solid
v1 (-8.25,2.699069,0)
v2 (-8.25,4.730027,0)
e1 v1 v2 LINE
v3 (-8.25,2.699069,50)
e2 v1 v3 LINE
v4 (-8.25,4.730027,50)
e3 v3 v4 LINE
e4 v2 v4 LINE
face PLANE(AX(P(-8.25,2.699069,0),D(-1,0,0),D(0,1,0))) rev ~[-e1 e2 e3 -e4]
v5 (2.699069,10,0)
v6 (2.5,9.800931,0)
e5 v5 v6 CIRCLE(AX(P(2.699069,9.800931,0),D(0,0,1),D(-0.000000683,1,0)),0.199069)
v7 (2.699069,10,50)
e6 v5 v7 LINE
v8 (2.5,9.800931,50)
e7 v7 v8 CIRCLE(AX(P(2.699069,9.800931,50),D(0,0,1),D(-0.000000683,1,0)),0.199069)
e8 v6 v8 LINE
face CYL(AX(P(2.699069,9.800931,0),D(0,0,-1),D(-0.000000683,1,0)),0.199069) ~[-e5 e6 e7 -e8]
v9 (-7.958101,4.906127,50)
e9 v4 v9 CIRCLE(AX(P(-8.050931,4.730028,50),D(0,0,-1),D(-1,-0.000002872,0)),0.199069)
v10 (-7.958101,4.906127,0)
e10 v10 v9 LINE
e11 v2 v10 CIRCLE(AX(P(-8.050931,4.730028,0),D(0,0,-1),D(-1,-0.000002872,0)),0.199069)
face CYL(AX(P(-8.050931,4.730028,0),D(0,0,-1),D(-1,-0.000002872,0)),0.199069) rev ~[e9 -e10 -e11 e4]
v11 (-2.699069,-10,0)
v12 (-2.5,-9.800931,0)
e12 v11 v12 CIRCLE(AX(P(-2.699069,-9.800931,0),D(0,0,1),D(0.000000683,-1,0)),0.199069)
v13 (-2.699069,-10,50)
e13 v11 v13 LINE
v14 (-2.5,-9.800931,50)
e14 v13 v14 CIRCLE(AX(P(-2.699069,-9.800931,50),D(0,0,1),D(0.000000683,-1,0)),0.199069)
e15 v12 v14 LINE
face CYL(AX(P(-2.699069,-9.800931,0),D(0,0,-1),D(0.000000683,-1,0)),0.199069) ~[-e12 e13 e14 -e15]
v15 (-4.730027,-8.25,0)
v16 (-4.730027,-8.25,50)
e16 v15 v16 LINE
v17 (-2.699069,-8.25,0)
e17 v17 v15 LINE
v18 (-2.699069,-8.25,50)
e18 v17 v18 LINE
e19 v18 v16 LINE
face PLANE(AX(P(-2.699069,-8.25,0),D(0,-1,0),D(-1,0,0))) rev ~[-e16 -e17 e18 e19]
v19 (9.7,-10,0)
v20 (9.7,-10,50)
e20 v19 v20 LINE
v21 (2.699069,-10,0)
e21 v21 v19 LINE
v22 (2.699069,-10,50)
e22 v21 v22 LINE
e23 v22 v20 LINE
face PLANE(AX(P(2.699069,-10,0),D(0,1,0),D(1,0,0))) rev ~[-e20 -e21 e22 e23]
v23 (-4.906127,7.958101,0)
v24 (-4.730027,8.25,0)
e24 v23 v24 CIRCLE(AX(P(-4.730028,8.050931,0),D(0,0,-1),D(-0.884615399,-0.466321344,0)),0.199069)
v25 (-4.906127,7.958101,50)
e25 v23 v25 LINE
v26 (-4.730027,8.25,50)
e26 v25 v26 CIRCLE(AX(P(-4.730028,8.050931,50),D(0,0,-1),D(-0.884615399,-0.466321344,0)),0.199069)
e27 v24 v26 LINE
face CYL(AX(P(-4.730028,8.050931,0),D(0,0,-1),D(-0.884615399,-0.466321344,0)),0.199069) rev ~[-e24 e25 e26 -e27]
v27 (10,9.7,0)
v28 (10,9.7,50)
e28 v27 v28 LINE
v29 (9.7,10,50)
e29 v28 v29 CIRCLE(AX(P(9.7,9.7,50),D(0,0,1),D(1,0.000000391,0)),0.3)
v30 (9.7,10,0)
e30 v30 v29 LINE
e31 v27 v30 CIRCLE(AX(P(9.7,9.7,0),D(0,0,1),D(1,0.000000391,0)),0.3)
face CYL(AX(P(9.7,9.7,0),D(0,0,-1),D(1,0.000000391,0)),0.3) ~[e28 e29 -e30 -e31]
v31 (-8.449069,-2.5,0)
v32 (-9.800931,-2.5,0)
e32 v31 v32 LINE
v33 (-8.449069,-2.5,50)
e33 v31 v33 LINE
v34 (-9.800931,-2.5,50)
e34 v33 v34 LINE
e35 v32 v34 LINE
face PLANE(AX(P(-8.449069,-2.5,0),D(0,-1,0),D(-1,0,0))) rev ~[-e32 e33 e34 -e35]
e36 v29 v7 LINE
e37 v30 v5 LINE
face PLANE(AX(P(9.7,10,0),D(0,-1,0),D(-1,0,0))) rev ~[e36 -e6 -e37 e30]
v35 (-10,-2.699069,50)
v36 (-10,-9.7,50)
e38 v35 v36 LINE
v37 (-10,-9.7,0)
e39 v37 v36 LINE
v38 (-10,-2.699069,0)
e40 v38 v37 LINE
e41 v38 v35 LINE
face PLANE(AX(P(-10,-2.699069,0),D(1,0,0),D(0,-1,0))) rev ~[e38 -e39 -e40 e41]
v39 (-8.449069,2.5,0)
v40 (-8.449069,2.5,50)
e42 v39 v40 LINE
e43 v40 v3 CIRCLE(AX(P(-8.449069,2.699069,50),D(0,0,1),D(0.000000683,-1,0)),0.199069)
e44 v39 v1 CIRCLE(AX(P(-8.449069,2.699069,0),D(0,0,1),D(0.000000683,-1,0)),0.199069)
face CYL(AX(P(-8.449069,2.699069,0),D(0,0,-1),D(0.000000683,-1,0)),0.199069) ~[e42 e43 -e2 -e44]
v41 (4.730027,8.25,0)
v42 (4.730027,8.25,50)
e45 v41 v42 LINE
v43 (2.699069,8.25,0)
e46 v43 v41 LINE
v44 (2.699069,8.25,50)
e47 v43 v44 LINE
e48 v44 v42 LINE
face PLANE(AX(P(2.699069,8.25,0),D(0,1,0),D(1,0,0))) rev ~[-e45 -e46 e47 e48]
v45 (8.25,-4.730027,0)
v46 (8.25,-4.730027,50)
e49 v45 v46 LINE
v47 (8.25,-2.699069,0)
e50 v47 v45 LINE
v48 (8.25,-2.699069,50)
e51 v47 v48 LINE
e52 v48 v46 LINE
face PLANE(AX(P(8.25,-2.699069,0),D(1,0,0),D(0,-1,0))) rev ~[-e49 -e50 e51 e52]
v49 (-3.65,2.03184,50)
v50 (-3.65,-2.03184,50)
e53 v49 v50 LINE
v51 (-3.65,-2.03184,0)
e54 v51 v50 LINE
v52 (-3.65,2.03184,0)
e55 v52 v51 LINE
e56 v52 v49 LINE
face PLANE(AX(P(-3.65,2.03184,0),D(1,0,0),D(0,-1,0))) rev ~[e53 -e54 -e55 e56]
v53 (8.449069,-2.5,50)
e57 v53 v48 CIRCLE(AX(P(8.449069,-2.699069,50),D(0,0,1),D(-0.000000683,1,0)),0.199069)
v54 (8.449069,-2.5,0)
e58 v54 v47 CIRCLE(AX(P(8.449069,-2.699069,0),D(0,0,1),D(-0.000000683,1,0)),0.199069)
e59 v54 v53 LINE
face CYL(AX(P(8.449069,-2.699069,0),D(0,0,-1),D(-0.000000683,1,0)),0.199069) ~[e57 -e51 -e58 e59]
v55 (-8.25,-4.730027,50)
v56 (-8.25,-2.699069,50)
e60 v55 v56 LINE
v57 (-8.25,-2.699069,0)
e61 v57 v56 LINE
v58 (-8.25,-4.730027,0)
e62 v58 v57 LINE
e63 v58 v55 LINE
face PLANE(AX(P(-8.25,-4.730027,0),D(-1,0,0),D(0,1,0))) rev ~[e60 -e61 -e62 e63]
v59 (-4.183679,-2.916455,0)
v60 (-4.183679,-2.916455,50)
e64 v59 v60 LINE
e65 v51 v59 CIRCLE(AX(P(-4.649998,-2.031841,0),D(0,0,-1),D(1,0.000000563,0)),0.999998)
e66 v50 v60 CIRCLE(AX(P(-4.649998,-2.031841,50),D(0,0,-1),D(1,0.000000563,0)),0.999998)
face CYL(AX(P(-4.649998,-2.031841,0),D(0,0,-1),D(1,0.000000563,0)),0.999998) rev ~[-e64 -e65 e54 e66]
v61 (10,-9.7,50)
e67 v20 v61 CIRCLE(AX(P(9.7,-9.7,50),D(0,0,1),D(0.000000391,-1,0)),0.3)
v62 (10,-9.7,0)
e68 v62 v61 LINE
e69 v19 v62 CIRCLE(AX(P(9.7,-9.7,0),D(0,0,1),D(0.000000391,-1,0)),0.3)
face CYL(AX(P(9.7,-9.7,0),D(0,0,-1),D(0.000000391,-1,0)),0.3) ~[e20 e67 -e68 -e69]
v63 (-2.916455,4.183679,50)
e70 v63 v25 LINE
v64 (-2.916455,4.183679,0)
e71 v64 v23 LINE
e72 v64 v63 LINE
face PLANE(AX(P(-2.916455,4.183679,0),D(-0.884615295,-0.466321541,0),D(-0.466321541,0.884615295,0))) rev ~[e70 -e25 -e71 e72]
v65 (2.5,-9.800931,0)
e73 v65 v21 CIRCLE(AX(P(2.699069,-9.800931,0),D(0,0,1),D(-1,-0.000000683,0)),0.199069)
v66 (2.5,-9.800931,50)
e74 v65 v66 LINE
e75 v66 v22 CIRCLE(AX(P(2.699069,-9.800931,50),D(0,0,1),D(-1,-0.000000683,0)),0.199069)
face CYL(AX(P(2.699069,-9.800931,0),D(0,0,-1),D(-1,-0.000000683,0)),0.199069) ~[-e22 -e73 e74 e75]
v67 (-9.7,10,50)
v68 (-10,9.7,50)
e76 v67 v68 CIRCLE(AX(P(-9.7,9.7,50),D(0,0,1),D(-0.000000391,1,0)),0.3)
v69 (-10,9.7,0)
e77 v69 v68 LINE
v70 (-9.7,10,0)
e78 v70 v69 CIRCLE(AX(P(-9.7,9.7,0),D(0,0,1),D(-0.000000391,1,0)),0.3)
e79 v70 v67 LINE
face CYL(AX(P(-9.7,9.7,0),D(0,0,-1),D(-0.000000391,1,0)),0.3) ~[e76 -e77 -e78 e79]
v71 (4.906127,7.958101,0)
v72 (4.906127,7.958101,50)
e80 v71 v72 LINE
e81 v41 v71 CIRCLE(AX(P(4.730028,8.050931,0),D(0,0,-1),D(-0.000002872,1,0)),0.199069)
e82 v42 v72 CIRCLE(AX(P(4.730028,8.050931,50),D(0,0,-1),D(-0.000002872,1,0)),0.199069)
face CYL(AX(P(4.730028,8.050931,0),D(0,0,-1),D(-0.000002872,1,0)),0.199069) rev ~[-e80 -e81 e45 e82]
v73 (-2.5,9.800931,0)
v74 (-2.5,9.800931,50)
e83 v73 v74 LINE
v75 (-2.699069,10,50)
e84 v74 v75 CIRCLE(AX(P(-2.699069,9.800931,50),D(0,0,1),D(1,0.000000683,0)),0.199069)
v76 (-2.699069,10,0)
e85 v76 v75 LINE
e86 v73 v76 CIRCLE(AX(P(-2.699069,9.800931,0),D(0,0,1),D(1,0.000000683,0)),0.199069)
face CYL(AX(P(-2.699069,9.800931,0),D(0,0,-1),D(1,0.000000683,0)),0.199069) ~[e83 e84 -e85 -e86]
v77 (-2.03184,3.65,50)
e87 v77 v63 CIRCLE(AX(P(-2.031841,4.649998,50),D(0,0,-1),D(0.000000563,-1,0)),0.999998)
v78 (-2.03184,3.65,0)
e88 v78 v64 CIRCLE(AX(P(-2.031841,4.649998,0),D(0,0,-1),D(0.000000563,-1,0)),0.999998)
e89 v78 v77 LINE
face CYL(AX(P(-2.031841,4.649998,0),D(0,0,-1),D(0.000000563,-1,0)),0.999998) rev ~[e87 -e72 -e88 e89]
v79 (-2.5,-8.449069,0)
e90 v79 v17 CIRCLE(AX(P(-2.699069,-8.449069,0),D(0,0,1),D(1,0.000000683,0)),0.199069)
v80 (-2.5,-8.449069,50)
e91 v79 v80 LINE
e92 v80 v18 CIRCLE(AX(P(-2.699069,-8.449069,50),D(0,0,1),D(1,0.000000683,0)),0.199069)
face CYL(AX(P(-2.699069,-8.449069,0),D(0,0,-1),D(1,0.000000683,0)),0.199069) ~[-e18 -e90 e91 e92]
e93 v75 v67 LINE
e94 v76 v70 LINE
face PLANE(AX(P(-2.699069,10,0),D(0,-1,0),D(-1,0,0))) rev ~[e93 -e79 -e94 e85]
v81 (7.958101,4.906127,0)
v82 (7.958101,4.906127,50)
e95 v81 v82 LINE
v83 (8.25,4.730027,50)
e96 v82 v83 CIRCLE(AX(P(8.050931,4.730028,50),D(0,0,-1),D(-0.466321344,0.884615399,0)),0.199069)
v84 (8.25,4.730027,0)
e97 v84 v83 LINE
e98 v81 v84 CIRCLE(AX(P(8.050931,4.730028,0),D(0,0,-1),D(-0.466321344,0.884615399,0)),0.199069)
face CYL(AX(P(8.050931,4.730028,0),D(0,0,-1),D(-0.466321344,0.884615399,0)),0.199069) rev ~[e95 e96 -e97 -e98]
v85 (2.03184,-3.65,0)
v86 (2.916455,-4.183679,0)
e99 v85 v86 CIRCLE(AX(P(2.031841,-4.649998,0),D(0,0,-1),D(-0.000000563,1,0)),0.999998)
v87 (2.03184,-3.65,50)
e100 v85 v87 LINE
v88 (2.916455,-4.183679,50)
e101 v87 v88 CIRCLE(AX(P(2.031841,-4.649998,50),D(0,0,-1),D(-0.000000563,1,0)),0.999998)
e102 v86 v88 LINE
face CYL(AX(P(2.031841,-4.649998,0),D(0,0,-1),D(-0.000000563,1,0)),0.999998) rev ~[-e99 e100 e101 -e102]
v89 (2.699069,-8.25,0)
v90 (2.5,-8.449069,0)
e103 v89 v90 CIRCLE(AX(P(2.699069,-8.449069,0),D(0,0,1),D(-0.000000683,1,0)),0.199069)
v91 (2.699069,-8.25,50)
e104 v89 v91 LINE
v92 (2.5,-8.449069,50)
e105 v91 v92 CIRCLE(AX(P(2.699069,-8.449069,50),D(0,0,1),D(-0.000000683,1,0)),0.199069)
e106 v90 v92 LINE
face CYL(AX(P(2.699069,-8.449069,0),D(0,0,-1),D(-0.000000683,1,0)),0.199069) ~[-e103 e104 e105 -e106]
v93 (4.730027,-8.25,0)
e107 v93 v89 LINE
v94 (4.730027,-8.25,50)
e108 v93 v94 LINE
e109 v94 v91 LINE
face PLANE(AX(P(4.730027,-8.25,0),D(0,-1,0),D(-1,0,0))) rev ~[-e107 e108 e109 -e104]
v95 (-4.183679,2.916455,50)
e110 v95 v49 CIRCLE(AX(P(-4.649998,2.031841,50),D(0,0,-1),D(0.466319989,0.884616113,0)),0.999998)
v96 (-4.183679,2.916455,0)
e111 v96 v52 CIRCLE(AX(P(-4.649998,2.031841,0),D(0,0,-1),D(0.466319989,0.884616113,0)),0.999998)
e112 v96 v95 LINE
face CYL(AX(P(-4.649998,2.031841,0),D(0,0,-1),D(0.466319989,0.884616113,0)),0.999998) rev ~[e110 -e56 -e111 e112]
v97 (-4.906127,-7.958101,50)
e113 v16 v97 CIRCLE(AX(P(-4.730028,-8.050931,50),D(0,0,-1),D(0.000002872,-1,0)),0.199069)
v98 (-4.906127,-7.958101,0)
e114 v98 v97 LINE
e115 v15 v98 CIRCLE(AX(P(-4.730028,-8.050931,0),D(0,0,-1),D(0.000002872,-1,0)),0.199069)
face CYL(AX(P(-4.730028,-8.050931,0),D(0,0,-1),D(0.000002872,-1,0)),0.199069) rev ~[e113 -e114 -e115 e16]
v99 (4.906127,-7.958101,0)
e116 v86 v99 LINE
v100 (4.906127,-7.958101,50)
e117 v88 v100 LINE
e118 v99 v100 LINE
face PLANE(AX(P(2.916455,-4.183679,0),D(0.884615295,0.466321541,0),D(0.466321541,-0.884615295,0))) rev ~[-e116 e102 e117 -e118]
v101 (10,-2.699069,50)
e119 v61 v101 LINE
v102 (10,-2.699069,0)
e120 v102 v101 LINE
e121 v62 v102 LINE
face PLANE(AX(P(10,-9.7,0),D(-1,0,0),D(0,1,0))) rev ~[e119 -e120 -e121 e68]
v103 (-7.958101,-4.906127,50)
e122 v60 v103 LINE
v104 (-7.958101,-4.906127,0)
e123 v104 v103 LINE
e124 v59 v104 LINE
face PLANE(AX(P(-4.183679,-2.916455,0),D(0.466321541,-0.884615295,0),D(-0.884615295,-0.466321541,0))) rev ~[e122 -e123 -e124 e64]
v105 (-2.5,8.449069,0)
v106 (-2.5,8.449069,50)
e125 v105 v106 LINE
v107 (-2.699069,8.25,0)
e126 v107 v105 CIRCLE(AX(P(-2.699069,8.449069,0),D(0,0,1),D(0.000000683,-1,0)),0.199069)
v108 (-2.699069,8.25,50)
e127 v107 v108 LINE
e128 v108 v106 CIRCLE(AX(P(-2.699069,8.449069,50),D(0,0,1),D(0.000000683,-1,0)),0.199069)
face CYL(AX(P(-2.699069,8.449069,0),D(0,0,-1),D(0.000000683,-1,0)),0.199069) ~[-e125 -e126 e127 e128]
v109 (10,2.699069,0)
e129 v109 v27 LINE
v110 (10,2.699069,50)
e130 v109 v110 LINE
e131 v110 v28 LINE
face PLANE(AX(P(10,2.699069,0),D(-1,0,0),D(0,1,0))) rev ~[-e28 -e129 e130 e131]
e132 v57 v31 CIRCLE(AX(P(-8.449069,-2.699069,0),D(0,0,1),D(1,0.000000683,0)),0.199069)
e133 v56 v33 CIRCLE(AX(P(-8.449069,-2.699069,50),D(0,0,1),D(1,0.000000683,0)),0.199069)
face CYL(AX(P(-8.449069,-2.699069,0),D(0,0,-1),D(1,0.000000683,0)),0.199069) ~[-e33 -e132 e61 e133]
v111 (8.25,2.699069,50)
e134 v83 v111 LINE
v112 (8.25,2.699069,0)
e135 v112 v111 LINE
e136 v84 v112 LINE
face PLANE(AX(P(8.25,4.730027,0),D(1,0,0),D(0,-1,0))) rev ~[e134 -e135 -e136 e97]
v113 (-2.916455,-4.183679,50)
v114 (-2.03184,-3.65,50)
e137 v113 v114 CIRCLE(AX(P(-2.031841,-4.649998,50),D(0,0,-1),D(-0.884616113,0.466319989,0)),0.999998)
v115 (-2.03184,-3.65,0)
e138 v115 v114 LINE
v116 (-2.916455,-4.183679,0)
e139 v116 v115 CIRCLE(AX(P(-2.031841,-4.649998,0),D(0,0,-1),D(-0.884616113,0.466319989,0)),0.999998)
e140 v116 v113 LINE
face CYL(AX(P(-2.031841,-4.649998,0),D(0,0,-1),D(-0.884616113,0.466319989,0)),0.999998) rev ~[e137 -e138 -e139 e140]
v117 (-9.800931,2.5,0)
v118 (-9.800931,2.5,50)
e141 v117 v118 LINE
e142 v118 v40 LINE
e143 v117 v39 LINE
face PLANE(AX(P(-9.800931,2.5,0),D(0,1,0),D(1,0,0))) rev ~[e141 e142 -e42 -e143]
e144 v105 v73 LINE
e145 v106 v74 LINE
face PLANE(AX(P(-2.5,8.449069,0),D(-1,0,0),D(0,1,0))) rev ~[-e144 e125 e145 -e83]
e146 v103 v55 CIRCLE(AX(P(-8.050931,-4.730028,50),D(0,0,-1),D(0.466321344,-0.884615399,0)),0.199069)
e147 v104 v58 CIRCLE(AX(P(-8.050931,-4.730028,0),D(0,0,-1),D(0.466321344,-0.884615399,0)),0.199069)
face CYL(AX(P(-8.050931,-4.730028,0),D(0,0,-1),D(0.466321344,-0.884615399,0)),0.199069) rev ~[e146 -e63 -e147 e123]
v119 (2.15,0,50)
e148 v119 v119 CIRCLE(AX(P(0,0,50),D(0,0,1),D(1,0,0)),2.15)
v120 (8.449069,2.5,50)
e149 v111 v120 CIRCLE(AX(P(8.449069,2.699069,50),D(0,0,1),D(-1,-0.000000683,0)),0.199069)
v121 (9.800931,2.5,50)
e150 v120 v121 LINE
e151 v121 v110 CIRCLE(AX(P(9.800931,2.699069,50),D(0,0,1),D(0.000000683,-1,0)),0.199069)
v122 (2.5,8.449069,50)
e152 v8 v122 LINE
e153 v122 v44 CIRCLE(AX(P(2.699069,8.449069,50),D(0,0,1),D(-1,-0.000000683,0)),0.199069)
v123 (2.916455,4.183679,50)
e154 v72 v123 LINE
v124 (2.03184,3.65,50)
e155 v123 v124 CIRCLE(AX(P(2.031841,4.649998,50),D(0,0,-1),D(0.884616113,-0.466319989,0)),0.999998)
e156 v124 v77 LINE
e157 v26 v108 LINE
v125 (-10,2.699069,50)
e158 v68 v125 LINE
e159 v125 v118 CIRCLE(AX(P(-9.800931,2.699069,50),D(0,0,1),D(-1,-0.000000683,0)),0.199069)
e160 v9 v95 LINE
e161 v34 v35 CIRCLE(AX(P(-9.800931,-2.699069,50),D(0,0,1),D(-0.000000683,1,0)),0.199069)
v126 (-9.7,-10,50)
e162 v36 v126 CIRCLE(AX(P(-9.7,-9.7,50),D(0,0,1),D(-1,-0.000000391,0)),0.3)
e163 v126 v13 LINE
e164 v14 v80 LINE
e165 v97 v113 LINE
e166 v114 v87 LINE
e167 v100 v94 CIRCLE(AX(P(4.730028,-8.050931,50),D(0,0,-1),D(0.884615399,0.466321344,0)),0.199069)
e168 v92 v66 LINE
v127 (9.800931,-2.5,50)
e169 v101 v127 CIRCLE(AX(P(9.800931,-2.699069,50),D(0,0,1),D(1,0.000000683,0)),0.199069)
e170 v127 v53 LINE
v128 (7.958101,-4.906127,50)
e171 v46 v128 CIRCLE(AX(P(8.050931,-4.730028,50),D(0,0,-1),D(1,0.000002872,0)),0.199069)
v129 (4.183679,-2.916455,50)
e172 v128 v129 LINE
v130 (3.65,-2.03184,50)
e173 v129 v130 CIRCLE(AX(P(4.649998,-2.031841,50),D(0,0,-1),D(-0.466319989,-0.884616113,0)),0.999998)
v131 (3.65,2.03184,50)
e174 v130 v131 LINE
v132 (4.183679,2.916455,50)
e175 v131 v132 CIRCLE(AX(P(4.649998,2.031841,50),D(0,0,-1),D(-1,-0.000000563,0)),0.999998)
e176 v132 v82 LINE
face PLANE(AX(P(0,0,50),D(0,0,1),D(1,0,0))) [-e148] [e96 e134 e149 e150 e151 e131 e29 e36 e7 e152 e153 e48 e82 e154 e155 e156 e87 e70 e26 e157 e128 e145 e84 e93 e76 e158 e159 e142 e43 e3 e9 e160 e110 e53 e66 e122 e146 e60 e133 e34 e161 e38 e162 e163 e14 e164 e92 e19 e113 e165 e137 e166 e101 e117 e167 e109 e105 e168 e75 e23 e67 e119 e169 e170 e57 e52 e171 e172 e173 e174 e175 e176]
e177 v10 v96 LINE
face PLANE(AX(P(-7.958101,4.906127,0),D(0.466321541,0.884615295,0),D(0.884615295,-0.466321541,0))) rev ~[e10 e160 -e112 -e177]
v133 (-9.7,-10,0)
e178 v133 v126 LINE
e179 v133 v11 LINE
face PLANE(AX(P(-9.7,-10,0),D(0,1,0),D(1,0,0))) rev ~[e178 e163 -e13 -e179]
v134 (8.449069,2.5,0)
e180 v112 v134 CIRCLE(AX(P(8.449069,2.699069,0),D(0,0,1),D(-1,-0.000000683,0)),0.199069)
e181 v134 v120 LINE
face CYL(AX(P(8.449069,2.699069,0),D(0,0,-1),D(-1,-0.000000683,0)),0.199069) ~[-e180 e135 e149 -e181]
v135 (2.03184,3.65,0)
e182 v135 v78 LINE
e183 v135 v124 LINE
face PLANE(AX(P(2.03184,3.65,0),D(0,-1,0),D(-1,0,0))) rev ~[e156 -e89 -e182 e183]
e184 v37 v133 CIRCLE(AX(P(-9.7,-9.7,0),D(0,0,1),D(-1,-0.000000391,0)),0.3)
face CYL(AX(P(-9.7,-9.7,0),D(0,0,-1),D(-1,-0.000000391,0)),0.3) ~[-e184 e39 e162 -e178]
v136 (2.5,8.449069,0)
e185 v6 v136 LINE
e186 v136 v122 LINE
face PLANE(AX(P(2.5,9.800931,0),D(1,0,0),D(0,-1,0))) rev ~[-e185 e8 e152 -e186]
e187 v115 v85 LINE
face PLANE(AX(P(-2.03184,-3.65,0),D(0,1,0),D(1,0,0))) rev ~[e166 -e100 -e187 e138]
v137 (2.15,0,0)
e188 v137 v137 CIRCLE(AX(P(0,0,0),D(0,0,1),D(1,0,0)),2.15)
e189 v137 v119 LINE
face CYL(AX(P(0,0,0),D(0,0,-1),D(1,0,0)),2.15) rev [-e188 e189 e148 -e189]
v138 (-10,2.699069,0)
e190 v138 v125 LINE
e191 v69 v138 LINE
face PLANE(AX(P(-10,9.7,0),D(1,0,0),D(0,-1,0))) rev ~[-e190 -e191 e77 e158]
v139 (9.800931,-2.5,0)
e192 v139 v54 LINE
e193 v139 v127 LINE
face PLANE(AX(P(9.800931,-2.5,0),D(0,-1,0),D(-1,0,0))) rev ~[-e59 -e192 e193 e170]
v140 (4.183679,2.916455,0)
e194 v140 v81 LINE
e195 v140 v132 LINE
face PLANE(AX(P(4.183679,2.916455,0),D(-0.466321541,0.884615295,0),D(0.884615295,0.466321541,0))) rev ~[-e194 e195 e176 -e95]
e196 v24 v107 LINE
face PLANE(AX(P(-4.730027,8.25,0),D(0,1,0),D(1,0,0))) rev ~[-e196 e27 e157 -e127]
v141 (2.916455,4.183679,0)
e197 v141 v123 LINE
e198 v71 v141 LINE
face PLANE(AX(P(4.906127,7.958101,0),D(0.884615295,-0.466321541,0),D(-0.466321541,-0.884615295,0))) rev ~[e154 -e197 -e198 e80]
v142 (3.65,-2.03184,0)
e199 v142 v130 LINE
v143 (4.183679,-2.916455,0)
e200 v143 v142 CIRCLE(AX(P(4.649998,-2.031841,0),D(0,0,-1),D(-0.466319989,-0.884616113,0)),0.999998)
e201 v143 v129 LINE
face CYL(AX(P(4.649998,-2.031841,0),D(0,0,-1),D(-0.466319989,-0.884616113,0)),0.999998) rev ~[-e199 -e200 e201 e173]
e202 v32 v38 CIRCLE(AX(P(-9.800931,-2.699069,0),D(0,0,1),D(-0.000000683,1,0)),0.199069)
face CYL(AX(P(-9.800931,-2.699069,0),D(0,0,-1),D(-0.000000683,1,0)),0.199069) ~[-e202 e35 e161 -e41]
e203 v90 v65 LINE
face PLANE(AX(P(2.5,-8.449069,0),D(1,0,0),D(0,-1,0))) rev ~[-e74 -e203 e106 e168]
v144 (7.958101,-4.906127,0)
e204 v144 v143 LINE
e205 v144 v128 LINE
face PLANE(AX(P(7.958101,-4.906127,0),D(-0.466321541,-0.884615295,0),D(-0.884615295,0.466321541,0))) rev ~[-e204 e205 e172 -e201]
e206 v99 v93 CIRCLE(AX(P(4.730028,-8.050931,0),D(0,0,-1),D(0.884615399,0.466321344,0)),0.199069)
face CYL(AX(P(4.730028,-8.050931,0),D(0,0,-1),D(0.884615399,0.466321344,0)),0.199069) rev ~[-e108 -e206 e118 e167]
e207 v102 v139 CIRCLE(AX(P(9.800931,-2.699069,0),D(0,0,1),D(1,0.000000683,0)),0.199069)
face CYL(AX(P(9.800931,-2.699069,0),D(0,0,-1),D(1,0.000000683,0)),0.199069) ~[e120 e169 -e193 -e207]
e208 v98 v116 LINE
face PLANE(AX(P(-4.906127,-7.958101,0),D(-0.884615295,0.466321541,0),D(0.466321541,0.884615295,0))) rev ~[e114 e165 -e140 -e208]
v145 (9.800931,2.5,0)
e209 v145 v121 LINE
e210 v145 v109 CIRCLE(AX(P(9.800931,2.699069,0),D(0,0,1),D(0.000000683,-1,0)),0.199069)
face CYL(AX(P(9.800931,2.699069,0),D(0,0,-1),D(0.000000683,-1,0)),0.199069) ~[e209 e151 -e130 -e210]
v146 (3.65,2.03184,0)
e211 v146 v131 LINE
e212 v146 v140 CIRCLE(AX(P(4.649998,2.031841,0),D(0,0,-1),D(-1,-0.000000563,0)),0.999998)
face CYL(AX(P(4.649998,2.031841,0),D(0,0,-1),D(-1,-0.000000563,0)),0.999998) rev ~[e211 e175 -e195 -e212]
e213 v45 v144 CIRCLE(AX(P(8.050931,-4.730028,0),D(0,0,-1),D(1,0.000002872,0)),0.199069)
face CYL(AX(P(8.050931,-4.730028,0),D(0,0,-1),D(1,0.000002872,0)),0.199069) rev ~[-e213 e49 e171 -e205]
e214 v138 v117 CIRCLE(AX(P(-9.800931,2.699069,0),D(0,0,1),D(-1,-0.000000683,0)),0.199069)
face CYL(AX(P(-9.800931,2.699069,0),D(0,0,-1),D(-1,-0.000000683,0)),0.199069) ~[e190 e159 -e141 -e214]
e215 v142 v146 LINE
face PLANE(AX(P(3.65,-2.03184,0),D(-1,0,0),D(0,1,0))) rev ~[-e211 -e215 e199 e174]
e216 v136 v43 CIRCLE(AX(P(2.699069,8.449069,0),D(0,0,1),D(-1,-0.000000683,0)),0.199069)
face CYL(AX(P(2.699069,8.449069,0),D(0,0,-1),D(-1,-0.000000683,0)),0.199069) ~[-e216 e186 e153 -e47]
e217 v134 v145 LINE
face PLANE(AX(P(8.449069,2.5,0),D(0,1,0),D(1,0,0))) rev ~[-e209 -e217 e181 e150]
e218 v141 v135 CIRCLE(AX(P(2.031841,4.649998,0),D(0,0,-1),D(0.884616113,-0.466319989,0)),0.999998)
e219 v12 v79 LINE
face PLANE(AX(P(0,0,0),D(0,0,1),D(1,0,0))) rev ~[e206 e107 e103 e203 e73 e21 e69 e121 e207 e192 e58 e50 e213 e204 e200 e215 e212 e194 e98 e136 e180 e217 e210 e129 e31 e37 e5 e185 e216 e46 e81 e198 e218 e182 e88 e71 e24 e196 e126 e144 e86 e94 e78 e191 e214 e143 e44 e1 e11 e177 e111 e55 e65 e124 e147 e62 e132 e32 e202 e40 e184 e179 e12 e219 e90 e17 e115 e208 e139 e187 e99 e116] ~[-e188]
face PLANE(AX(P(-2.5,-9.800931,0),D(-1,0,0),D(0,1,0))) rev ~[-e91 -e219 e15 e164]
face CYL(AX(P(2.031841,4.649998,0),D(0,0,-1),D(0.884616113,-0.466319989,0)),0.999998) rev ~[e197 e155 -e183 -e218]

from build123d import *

# Parameters (mm, degrees)
F0_R     = 2.15
F1_DEPTH = 50


with BuildPart() as f1:
    # F0 (on Top) → F1 (new body)
    with BuildSketch(Plane.XY):
        with BuildLine():
            Line((-2.699069, 10), (-9.7, 10))
            ThreePointArc((-9.7, 10), (-9.912132, 9.912132), (-10, 9.7))
            Line((-10, 9.7), (-10, 2.699069))
            ThreePointArc((-10, 2.699069), (-9.941694, 2.558306), (-9.800931, 2.5))
            Line((-9.800931, 2.5), (-8.449069, 2.5))
            ThreePointArc((-8.449069, 2.5), (-8.308306, 2.558306), (-8.25, 2.699069))
            Line((-8.25, 2.699069), (-8.25, 4.730027))
            ThreePointArc((-8.25, 4.730027), (-8.153763, 4.90048), (-7.958101, 4.906127))
            Line((-7.958101, 4.906127), (-4.183679, 2.916455))
            ThreePointArc((-4.183679, 2.916455), (-3.793752, 2.548405), (-3.65, 2.03184))
            Line((-3.65, 2.03184), (-3.65, 0))
            Line((-3.65, 0), (-3.65, -2.03184))
            ThreePointArc((-3.65, -2.03184), (-3.793752, -2.548405), (-4.183679, -2.916455))
            Line((-4.183679, -2.916455), (-7.958101, -4.906127))
            ThreePointArc((-7.958101, -4.906127), (-8.153763, -4.90048), (-8.25, -4.730027))
            Line((-8.25, -4.730027), (-8.25, -2.699069))
            ThreePointArc((-8.25, -2.699069), (-8.308306, -2.558306), (-8.449069, -2.5))
            Line((-8.449069, -2.5), (-9.800931, -2.5))
            ThreePointArc((-9.800931, -2.5), (-9.941694, -2.558306), (-10, -2.699069))
            Line((-10, -2.699069), (-10, -9.7))
            ThreePointArc((-10, -9.7), (-9.912132, -9.912132), (-9.7, -10))
            Line((-9.7, -10), (-2.699069, -10))
            ThreePointArc((-2.699069, -10), (-2.558306, -9.941694), (-2.5, -9.800931))
            Line((-2.5, -9.800931), (-2.5, -8.449069))
            ThreePointArc((-2.5, -8.449069), (-2.558306, -8.308306), (-2.699069, -8.25))
            Line((-2.699069, -8.25), (-4.730027, -8.25))
            ThreePointArc((-4.730027, -8.25), (-4.90048, -8.153763), (-4.906127, -7.958101))
            Line((-4.906127, -7.958101), (-2.916455, -4.183679))
            ThreePointArc((-2.916455, -4.183679), (-2.548405, -3.793752), (-2.03184, -3.65))
            Line((-2.03184, -3.65), (0, -3.65))
            Line((0, -3.65), (2.03184, -3.65))
            ThreePointArc((2.03184, -3.65), (2.548405, -3.793752), (2.916455, -4.183679))
            Line((2.916455, -4.183679), (4.906127, -7.958101))
            ThreePointArc((4.906127, -7.958101), (4.90048, -8.153763), (4.730027, -8.25))
            Line((4.730027, -8.25), (2.699069, -8.25))
            ThreePointArc((2.699069, -8.25), (2.558306, -8.308306), (2.5, -8.449069))
            Line((2.5, -8.449069), (2.5, -9.800931))
            ThreePointArc((2.5, -9.800931), (2.558306, -9.941694), (2.699069, -10))
            Line((2.699069, -10), (9.7, -10))
            ThreePointArc((9.7, -10), (9.912132, -9.912132), (10, -9.7))
            Line((10, -9.7), (10, -2.699069))
            ThreePointArc((10, -2.699069), (9.941694, -2.558306), (9.800931, -2.5))
            Line((9.800931, -2.5), (8.449069, -2.5))
            ThreePointArc((8.449069, -2.5), (8.308306, -2.558306), (8.25, -2.699069))
            Line((8.25, -2.699069), (8.25, -4.730027))
            ThreePointArc((8.25, -4.730027), (8.153763, -4.90048), (7.958101, -4.906127))
            Line((7.958101, -4.906127), (4.183679, -2.916455))
            ThreePointArc((4.183679, -2.916455), (3.793752, -2.548405), (3.65, -2.03184))
            Line((3.65, -2.03184), (3.65, 0))
            Line((3.65, 0), (3.65, 2.03184))
            ThreePointArc((3.65, 2.03184), (3.793752, 2.548405), (4.183679, 2.916455))
            Line((4.183679, 2.916455), (7.958101, 4.906127))
            ThreePointArc((7.958101, 4.906127), (8.153763, 4.90048), (8.25, 4.730027))
            Line((8.25, 4.730027), (8.25, 2.699069))
            ThreePointArc((8.25, 2.699069), (8.308306, 2.558306), (8.449069, 2.5))
            Line((8.449069, 2.5), (9.800931, 2.5))
            ThreePointArc((9.800931, 2.5), (9.941694, 2.558306), (10, 2.699069))
            Line((10, 2.699069), (10, 9.7))
            ThreePointArc((10, 9.7), (9.912132, 9.912132), (9.7, 10))
            Line((9.7, 10), (2.699069, 10))
            ThreePointArc((2.699069, 10), (2.558306, 9.941694), (2.5, 9.800931))
            Line((2.5, 9.800931), (2.5, 8.449069))
            ThreePointArc((2.5, 8.449069), (2.558306, 8.308306), (2.699069, 8.25))
            Line((2.699069, 8.25), (4.730027, 8.25))
            ThreePointArc((4.730027, 8.25), (4.90048, 8.153763), (4.906127, 7.958101))
            Line((4.906127, 7.958101), (2.916455, 4.183679))
            ThreePointArc((2.916455, 4.183679), (2.548405, 3.793752), (2.03184, 3.65))
            Line((2.03184, 3.65), (0, 3.65))
            Line((0, 3.65), (-2.03184, 3.65))
            ThreePointArc((-2.03184, 3.65), (-2.548405, 3.793752), (-2.916455, 4.183679))
            Line((-2.916455, 4.183679), (-4.906127, 7.958101))
            ThreePointArc((-4.906127, 7.958101), (-4.90048, 8.153763), (-4.730027, 8.25))
            Line((-4.730027, 8.25), (-2.699069, 8.25))
            ThreePointArc((-2.699069, 8.25), (-2.558306, 8.308306), (-2.5, 8.449069))
            Line((-2.5, 8.449069), (-2.5, 9.800931))
            ThreePointArc((-2.5, 9.800931), (-2.558306, 9.941694), (-2.699069, 10))
        make_face()
        Circle(F0_R, mode=Mode.SUBTRACT)
    extrude(amount=F1_DEPTH)


solid = f1.part
